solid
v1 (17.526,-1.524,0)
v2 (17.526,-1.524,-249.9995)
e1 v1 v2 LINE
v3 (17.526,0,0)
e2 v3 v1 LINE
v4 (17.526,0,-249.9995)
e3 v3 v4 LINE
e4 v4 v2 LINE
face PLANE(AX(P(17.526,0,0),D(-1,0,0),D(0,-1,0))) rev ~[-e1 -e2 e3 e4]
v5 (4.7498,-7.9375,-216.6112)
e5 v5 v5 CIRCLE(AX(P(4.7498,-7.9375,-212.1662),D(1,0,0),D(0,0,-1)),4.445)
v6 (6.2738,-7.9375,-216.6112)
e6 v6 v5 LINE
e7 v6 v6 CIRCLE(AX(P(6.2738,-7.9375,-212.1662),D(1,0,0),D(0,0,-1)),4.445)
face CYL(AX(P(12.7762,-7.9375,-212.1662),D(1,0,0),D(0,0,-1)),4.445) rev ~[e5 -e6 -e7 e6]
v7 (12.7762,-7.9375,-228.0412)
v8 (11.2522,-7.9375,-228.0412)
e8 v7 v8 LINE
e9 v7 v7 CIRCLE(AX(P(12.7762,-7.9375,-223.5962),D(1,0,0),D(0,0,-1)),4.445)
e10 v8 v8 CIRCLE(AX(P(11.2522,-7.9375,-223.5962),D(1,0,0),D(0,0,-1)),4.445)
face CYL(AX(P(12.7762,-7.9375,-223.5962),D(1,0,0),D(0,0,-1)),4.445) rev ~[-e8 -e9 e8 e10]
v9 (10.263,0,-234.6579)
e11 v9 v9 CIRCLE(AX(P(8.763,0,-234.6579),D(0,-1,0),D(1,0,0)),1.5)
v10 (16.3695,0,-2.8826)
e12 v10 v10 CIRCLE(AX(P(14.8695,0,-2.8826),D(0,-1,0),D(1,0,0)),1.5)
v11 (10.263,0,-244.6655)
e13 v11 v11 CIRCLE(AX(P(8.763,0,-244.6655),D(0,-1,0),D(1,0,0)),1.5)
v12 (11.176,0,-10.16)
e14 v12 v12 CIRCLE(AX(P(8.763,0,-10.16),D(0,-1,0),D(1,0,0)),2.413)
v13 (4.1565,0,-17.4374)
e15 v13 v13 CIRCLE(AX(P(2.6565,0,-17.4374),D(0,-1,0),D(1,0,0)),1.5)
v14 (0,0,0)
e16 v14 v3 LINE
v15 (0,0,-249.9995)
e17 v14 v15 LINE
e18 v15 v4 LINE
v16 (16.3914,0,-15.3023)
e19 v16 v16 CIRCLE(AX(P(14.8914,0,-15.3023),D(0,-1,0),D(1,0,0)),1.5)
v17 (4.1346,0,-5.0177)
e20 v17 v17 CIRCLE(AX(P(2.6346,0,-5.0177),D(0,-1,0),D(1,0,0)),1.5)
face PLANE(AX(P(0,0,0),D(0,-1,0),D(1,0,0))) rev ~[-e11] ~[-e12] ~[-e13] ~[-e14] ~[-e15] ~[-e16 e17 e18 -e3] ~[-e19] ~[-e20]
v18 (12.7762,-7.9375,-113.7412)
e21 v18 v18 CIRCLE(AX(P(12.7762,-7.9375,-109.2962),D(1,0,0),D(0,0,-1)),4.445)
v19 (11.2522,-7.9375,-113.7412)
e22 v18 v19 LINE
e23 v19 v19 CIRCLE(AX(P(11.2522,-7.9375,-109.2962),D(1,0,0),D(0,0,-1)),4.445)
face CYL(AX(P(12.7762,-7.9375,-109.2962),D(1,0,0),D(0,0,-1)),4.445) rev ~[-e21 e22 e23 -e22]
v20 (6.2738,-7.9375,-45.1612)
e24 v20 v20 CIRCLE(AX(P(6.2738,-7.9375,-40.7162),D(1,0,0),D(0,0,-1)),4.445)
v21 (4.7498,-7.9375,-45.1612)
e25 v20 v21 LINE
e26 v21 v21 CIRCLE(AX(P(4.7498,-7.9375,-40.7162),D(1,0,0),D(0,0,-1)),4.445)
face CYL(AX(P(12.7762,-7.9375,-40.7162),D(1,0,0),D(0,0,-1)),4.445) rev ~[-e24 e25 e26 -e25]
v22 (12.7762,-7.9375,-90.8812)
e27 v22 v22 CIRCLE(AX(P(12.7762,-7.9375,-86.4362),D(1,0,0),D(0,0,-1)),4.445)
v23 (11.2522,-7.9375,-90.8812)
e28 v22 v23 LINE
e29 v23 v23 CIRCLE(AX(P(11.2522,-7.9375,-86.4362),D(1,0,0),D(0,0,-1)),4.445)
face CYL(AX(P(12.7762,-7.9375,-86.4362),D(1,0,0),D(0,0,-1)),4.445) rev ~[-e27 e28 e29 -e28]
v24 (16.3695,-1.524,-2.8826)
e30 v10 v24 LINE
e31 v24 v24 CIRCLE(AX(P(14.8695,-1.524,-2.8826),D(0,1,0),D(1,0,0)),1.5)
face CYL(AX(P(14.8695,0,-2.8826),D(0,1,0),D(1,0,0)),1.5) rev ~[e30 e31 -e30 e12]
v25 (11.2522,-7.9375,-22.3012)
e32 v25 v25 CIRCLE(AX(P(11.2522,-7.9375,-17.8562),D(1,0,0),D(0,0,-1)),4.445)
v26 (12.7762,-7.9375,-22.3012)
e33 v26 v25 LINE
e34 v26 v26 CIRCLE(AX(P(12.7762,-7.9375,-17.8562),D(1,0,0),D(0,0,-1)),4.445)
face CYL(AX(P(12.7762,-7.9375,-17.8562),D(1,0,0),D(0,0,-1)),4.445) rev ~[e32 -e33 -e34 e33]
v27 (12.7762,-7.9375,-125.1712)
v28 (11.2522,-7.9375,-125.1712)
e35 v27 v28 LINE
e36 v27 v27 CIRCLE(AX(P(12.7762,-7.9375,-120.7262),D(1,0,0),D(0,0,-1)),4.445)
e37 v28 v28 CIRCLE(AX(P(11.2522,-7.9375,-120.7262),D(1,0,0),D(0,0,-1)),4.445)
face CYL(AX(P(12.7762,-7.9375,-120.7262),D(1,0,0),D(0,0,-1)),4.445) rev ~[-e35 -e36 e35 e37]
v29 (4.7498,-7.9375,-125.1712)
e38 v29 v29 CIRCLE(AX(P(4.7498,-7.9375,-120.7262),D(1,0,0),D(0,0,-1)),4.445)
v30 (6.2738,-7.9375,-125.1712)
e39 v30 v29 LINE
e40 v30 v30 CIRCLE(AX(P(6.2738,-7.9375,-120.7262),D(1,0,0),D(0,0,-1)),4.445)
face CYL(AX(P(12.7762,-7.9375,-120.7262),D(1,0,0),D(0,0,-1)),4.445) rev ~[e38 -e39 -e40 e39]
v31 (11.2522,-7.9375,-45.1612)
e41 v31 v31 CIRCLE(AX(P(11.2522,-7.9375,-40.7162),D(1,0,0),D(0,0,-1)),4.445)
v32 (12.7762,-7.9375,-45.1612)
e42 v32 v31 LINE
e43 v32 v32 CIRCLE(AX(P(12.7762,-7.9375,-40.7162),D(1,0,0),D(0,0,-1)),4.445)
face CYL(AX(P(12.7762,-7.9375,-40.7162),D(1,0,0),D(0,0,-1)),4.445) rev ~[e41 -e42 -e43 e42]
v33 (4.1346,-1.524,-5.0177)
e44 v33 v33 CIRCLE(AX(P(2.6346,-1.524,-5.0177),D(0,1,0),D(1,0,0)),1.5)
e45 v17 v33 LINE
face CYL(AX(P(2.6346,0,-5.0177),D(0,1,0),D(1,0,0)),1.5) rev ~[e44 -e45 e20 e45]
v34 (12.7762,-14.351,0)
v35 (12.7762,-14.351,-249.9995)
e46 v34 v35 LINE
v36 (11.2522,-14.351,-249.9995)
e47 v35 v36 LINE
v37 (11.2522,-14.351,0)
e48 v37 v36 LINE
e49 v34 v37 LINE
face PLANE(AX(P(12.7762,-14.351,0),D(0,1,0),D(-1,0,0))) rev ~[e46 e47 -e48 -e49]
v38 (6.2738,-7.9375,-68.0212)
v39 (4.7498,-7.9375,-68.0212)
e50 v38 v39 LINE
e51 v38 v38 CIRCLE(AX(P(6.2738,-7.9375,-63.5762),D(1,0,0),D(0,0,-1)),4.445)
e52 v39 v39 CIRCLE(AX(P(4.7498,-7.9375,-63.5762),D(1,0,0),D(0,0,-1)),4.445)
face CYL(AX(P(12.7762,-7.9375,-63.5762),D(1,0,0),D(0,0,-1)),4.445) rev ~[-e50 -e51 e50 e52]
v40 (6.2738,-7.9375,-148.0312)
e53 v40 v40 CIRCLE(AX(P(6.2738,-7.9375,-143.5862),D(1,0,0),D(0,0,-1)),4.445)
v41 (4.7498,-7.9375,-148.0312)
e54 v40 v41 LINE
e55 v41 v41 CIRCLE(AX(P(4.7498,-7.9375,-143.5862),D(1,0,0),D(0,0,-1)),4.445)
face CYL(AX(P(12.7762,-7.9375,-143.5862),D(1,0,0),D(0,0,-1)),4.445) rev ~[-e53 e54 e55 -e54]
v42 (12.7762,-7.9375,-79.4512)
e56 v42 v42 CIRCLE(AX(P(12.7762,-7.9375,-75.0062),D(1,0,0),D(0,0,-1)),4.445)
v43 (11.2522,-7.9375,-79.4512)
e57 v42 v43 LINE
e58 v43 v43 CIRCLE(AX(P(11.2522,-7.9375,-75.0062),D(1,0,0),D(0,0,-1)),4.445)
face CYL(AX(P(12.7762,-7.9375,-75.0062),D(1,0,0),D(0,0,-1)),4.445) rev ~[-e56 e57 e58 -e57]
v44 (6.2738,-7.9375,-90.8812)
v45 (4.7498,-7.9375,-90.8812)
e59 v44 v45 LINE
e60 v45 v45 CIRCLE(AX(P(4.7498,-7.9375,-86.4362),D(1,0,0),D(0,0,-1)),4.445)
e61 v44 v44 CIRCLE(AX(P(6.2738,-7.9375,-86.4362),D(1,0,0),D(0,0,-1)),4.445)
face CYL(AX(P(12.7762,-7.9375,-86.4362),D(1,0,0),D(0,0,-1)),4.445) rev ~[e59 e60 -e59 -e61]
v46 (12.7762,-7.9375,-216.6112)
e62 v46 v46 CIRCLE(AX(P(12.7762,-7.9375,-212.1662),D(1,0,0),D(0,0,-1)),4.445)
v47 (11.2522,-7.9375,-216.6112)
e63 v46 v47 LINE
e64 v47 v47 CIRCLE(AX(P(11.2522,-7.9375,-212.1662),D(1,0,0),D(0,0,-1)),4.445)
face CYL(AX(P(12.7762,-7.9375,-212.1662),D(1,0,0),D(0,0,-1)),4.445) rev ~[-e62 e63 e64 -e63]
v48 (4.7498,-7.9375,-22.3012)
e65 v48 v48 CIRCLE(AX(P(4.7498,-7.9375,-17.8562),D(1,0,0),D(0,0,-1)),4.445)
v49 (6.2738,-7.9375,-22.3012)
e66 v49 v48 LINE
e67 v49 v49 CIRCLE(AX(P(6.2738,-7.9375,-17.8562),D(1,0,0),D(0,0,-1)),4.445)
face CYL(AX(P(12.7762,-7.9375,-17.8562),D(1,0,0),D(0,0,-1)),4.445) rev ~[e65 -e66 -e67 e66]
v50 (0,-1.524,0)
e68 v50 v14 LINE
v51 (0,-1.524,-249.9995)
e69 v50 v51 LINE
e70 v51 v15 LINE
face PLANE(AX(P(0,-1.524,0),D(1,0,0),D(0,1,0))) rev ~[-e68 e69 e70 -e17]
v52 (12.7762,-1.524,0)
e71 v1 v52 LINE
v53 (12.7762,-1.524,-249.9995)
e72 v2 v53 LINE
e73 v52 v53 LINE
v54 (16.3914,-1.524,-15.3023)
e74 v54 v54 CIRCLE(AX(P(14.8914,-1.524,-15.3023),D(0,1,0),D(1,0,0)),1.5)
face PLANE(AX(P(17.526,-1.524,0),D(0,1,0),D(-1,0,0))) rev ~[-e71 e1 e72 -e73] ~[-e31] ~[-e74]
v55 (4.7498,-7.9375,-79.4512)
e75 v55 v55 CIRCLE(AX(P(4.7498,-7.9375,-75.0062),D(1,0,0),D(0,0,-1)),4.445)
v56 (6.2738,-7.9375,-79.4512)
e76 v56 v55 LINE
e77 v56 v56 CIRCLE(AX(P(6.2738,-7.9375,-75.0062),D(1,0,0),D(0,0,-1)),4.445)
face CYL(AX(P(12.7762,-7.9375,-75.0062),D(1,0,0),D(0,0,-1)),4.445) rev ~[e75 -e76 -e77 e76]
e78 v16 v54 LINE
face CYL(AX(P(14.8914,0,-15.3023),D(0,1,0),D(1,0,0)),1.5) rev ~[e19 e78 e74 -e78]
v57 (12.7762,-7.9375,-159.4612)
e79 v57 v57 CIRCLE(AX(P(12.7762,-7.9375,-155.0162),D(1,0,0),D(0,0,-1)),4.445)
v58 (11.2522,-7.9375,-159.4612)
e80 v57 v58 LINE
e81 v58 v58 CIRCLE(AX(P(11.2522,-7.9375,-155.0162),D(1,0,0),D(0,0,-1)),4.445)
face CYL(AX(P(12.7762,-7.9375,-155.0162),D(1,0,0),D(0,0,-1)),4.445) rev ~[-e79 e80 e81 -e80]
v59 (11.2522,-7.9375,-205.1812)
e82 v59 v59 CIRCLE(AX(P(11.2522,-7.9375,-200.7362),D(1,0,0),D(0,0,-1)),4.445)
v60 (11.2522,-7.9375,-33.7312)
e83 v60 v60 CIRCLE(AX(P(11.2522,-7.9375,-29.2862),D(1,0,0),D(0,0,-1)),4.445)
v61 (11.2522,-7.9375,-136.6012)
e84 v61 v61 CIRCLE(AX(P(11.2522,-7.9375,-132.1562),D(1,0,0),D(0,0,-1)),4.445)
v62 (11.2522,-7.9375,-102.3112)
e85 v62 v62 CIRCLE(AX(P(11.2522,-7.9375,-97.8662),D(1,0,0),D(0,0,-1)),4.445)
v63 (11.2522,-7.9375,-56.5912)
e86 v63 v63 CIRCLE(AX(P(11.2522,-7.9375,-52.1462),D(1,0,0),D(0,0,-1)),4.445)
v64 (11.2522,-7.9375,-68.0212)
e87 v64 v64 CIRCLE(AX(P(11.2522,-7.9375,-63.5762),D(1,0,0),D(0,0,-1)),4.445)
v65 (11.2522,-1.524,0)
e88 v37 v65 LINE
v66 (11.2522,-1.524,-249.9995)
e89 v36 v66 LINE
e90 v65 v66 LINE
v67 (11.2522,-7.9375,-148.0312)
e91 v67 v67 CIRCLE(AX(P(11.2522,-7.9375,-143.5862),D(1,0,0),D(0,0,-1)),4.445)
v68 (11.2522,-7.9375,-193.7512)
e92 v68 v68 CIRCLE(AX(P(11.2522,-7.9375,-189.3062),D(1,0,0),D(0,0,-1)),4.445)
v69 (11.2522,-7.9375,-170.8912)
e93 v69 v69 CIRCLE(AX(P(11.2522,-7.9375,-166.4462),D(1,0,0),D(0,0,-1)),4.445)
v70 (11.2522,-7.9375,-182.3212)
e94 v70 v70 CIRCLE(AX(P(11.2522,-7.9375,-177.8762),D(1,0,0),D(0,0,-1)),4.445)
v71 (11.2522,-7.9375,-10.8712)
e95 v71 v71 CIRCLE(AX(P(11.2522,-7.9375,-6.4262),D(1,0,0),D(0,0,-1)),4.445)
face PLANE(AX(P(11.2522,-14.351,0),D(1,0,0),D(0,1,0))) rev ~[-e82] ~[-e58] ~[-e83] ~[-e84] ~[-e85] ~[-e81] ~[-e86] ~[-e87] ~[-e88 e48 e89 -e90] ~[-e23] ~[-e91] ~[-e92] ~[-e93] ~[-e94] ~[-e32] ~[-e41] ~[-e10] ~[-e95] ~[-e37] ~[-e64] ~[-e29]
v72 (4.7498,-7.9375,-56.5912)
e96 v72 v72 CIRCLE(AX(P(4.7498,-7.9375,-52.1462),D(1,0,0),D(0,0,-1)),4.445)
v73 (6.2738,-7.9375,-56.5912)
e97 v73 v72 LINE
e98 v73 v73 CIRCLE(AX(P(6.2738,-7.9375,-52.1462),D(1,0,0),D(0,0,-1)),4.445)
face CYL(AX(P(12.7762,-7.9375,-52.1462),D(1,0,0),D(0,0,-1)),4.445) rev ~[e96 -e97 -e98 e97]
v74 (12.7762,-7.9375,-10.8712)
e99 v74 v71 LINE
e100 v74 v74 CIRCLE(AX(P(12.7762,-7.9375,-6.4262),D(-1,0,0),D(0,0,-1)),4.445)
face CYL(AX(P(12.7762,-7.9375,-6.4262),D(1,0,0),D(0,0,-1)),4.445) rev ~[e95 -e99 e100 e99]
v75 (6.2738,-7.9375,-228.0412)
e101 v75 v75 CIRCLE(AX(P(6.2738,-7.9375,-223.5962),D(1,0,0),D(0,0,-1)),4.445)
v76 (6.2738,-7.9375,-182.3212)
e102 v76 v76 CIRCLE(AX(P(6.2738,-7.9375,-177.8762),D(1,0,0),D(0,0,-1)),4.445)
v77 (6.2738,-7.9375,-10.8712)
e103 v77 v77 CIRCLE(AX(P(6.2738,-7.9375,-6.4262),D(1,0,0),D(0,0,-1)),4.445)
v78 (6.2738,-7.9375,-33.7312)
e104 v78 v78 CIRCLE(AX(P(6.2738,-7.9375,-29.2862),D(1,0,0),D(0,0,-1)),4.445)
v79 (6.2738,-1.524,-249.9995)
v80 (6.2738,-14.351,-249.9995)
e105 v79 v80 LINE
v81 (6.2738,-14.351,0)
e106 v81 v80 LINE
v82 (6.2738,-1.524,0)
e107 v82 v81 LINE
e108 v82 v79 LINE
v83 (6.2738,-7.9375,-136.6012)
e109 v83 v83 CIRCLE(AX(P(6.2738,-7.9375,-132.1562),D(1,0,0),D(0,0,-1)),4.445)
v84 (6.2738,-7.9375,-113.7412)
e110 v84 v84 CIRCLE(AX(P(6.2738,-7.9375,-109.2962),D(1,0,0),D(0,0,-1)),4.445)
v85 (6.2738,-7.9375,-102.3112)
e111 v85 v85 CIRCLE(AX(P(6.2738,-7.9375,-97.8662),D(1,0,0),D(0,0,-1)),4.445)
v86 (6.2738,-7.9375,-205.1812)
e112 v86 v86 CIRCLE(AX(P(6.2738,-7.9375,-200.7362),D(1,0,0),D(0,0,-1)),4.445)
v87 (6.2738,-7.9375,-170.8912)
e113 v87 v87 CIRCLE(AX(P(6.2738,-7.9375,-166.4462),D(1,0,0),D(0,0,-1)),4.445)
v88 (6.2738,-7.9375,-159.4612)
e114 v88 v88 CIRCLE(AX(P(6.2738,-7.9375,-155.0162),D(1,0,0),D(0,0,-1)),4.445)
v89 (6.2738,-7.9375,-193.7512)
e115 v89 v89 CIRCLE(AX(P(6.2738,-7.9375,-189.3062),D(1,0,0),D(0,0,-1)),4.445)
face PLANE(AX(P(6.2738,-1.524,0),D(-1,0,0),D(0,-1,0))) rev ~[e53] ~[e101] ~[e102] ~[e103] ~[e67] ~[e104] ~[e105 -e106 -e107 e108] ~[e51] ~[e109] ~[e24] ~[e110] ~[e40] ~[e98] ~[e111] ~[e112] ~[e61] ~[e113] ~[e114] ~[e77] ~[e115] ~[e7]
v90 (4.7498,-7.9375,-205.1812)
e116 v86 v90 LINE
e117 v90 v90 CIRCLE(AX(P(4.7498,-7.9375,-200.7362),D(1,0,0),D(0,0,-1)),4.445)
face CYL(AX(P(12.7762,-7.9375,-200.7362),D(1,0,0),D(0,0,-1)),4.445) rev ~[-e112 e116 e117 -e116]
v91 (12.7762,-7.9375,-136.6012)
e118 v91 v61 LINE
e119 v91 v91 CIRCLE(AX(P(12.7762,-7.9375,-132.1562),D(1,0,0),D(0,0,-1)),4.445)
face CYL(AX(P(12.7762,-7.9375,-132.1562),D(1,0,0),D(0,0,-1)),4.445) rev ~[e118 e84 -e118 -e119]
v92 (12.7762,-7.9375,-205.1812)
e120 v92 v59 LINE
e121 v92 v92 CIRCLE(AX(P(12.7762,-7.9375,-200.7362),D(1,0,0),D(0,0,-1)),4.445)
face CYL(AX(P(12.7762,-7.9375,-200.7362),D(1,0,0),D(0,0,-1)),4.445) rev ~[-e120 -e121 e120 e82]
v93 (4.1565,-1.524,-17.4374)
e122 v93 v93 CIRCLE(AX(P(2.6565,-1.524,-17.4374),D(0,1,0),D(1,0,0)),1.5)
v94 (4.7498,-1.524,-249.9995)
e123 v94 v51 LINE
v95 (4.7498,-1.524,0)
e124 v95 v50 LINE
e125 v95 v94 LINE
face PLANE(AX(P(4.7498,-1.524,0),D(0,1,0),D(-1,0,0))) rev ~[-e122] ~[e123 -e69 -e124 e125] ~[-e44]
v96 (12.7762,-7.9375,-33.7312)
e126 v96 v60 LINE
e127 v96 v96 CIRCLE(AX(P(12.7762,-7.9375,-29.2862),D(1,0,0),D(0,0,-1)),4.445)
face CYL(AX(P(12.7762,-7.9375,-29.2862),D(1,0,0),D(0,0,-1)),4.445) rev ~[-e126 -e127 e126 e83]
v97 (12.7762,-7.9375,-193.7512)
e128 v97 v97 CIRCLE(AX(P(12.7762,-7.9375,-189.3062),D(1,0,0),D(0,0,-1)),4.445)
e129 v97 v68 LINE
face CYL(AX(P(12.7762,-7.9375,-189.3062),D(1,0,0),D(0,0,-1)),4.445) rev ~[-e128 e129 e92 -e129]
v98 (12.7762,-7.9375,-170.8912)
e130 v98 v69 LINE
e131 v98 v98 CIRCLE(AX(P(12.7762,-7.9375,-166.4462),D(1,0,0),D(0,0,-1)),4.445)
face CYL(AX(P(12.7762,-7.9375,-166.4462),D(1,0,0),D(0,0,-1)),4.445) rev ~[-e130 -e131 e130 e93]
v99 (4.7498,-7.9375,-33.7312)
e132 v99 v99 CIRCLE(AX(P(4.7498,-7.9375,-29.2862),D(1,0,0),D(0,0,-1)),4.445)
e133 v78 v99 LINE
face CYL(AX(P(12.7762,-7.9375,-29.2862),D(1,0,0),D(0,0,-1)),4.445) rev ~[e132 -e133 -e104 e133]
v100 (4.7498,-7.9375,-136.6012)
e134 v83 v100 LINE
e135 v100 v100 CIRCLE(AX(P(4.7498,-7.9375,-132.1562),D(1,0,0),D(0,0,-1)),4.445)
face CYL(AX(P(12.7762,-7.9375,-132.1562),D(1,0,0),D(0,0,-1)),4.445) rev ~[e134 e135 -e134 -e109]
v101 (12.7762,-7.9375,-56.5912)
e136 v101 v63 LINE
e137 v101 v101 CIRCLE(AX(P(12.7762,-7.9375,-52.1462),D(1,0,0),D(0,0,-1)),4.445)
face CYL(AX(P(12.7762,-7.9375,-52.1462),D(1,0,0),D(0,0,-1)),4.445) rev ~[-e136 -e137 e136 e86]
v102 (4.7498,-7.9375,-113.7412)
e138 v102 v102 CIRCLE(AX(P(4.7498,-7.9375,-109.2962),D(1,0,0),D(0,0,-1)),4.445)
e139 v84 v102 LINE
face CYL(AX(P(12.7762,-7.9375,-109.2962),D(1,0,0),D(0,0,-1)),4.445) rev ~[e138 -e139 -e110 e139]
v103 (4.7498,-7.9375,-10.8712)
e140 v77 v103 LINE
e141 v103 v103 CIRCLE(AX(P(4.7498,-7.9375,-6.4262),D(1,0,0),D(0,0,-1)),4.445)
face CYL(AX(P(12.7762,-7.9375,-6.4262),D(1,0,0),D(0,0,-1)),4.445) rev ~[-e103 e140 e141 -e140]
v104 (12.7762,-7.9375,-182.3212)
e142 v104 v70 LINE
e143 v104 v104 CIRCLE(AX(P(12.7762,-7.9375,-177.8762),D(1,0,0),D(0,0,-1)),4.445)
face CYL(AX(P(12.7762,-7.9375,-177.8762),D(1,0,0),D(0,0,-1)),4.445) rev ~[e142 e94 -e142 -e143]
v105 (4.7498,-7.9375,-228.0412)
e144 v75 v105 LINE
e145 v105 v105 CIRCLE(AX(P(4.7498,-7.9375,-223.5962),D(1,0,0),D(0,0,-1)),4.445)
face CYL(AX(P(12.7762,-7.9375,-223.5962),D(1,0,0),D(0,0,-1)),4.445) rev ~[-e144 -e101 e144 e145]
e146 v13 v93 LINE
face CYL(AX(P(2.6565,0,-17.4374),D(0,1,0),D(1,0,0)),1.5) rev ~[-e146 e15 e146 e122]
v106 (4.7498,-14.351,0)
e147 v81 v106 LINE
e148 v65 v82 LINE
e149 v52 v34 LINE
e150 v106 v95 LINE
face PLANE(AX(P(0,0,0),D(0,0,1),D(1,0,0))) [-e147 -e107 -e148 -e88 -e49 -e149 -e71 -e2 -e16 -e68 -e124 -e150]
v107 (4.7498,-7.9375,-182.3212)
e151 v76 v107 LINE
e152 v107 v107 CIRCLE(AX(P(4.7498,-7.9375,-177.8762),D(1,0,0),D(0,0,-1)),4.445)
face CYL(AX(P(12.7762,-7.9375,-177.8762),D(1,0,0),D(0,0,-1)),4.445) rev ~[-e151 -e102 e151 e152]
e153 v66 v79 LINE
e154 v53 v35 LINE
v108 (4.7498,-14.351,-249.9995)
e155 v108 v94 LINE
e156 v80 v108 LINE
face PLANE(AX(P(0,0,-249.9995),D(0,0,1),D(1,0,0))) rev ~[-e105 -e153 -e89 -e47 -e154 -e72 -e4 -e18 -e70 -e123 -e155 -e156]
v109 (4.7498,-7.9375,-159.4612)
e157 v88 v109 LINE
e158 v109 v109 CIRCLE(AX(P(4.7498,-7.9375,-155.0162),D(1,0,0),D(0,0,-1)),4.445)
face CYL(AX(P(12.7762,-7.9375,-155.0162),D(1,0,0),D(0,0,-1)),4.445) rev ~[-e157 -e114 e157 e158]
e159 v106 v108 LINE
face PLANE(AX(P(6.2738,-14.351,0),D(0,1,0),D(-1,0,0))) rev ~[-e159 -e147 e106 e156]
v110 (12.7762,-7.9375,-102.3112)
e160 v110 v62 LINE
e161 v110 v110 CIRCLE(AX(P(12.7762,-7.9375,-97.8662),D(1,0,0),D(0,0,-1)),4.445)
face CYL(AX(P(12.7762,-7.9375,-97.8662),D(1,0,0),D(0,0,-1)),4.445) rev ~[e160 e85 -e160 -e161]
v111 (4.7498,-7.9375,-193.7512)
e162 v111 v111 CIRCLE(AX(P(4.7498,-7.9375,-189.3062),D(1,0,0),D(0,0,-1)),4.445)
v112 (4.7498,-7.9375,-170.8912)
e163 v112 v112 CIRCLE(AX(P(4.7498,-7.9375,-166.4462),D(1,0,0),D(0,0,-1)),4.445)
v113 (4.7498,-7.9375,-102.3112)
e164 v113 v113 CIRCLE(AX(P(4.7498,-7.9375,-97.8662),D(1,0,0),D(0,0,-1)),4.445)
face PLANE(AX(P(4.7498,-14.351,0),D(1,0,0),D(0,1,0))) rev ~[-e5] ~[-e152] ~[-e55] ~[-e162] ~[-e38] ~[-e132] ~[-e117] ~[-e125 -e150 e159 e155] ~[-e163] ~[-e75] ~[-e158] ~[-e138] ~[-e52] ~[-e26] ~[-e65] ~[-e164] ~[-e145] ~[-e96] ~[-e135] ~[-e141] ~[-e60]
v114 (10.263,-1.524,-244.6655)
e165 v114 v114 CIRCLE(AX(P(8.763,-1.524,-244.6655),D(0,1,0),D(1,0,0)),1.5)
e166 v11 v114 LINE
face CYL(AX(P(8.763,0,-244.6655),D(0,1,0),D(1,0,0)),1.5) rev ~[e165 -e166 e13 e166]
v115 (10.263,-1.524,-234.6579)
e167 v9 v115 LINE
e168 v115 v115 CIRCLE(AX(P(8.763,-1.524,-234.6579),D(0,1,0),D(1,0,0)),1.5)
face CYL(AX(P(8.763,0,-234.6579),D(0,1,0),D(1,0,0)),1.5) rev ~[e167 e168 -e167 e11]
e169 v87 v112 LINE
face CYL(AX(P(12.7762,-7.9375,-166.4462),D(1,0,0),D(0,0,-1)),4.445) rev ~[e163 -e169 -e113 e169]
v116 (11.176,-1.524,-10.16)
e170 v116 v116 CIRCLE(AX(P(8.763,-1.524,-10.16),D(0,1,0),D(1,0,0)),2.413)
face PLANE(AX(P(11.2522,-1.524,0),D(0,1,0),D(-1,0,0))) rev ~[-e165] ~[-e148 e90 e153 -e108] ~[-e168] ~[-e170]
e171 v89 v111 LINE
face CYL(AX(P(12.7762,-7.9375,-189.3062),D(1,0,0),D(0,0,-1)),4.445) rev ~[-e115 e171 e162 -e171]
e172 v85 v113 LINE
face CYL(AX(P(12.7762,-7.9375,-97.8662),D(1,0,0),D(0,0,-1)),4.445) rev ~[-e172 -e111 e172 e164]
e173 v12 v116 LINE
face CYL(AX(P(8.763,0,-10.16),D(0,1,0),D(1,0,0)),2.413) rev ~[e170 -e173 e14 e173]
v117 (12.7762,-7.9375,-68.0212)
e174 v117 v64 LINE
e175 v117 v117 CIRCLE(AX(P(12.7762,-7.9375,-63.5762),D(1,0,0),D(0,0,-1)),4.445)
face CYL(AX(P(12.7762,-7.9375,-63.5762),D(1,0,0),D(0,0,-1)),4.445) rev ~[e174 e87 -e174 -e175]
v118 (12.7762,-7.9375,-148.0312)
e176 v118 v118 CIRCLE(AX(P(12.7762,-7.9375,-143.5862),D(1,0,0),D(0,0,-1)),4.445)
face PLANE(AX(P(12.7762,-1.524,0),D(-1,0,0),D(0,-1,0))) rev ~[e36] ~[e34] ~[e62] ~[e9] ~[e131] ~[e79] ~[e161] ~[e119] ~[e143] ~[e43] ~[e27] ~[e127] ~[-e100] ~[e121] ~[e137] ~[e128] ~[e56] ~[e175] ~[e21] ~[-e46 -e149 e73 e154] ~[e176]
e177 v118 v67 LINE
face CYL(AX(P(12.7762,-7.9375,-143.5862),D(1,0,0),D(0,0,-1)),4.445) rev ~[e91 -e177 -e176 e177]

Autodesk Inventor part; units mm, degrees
ref_plane "YZ Plane" through (0, 0, 0) normal (1, 0, 0) x (0, 1, 0)
ref_plane "XZ Plane" through (0, 0, 0) normal (0, 1, 0) x (-1, 0, 0)
ref_plane "XY Plane" through (0, 0, 0) normal (0, 0, 1) x (1, 0, 0)
sketch "Sketch1" plane through (0, 0, 0) normal (0, 0, 1) x (1, 0, 0)
  line L0 (0, 0) -> (17.526, 0)
  line L1 (17.526, 0) -> (17.526, -1.524)
  line L2 (17.526, -1.524) -> (12.7762, -1.524)
  line L3 (12.7762, -1.524) -> (12.7762, -14.351)
  line L4 (12.7762, -14.351) -> (11.2522, -14.351)
  line L5 (11.2522, -14.351) -> (11.2522, -1.524)
  line L6 (11.2522, -1.524) -> (6.2738, -1.524)
  line L7 (6.2738, -1.524) -> (6.2738, -14.351)
  line L8 (6.2738, -14.351) -> (4.7498, -14.351)
  line L9 (4.7498, -14.351) -> (4.7498, -1.524)
  line L10 (4.7498, -1.524) -> (0, -1.524)
  line L11 (0, -1.524) -> (0, 0)
  dimension "d0" = 17.526
  dimension "d1" = 1.524
  dimension "d2" = 4.7498
  dimension "d3" = 12.827
  dimension "d4" = 1.524
  dimension "d5" = 4.9784
  dimension "d6" = 1.524
extrude "Extrusion1" add sketch "Sketch1" against normal blind 249.9995
sketch "Sketch2" plane through (0, 0, 0) normal (0, 1, 0) x (1, 0, 0)
  line L0 (0, 0) -> (17.526, 0) projected
  line L1 (0, 0) -> (0, 249.9995) projected
  line L2 (8.763, 0) -> (8.763, 10.16)
  circle A0 centre (8.763, 10.16) radius 2.413
  circle A1 centre (8.763, 10.16) radius 9.5
  circle A2 centre (8.763, 10.16) radius 8
  line L3 (8.763, 10.16) -> (2.6565, 17.4374)
  line L4 (8.763, 10.16) -> (18.263, 10.16) construction
  line L5 (8.763, 10.16) -> (14.8695, 2.8826)
  line L6 (8.763, 10.16) -> (2.6346, 5.0177)
  line L7 (8.763, 10.16) -> (14.8914, 15.3023)
  circle A3 centre (2.6346, 5.0177) radius 1.5
  circle A4 centre (2.6565, 17.4374) radius 1.5
  circle A5 centre (14.8914, 15.3023) radius 1.5
  circle A6 centre (14.8695, 2.8826) radius 1.5
  dimension "d9" = 10.16
  dimension "d10" = 4.826
  dimension "d11" = 19
  dimension "d12" = 16
  dimension "d13" = 130
  dimension "d14" = 3
  dimension "d15" = 3
  dimension "d16" = 3
  dimension "d17" = 3
extrude "Extrusion2" cut sketch "Sketch2" against normal blind 1.524 contours A3 A2 | A6 L5 A1 | A1 A6 | A4 A1 | A1 L3 A4 | A3 L6 A2 | A2 L6 A3 | A0 L6 L2 | L2 L5 A0 | A6 A1 L5 | A1 A4 L3 | L6 A0 L3 | L7 A0 L5 | L3 A0 L7 | A5 A2 | A2 L7 A5 | A5 L7 A2
sketch "Sketch3" plane through (0, 0, 0) normal (0, 1, 0) x (1, 0, 0)
  line L0 (0, 249.9995) -> (17.526, 249.9995) projected
  line L1 (0, 0) -> (0, 249.9995) projected
  line L2 (8.763, 249.9995) -> (8.763, 244.6655)
  line L3 (8.763, 244.6655) -> (8.763, 234.6579)
  circle A0 centre (8.763, 244.6655) radius 1.5
  circle A1 centre (8.763, 234.6579) radius 1.5
  dimension "d20" = 5.334
  dimension "d21" = 10.0076
  dimension "d22" = 3
  dimension "d23" = 3
extrude "Extrusion3" cut sketch "Sketch3" against normal blind 1.524
sketch "Sketch5" plane through (12.7762, -14.351, 0) normal (1, 0, 0) x (0, 0, -1)
  line L0 (0, 12.827) -> (0, 0) projected
  line L1 (0, 0) -> (249.9995, 0) projected
  line L2 (0, 12.827) -> (249.9995, 12.827) projected
  line L3 (0, 6.4135) -> (6.4262, 6.4135)
  circle A0 centre (6.4262, 6.4135) radius 4.445
  circle A1 centre (17.8562, 6.4135) radius 4.445
  circle A2 centre (29.2862, 6.4135) radius 4.445
  circle A3 centre (40.7162, 6.4135) radius 4.445
  circle A4 centre (52.1462, 6.4135) radius 4.445
  circle A5 centre (63.5762, 6.4135) radius 4.445
  circle A6 centre (75.0062, 6.4135) radius 4.445
  circle A7 centre (86.4362, 6.4135) radius 4.445
  circle A8 centre (97.8662, 6.4135) radius 4.445
  circle A9 centre (109.2962, 6.4135) radius 4.445
  circle A10 centre (120.7262, 6.4135) radius 4.445
  circle A11 centre (132.1562, 6.4135) radius 4.445
  circle A12 centre (143.5862, 6.4135) radius 4.445
  circle A13 centre (155.0162, 6.4135) radius 4.445
  circle A14 centre (166.4462, 6.4135) radius 4.445
  circle A15 centre (177.8762, 6.4135) radius 4.445
  circle A16 centre (189.3062, 6.4135) radius 4.445
  circle A17 centre (200.7362, 6.4135) radius 4.445
  circle A18 centre (212.1662, 6.4135) radius 4.445
  circle A19 centre (223.5962, 6.4135) radius 4.445
  point P0 (0, 14.351)
  dimension "d38" = 6.4262
  dimension "d39" = 8.89
  dimension "d42" = 11.43
extrude "Extrusion4" cut sketch "Sketch5" against normal blind 25.4
properties part number "Arm_light"
